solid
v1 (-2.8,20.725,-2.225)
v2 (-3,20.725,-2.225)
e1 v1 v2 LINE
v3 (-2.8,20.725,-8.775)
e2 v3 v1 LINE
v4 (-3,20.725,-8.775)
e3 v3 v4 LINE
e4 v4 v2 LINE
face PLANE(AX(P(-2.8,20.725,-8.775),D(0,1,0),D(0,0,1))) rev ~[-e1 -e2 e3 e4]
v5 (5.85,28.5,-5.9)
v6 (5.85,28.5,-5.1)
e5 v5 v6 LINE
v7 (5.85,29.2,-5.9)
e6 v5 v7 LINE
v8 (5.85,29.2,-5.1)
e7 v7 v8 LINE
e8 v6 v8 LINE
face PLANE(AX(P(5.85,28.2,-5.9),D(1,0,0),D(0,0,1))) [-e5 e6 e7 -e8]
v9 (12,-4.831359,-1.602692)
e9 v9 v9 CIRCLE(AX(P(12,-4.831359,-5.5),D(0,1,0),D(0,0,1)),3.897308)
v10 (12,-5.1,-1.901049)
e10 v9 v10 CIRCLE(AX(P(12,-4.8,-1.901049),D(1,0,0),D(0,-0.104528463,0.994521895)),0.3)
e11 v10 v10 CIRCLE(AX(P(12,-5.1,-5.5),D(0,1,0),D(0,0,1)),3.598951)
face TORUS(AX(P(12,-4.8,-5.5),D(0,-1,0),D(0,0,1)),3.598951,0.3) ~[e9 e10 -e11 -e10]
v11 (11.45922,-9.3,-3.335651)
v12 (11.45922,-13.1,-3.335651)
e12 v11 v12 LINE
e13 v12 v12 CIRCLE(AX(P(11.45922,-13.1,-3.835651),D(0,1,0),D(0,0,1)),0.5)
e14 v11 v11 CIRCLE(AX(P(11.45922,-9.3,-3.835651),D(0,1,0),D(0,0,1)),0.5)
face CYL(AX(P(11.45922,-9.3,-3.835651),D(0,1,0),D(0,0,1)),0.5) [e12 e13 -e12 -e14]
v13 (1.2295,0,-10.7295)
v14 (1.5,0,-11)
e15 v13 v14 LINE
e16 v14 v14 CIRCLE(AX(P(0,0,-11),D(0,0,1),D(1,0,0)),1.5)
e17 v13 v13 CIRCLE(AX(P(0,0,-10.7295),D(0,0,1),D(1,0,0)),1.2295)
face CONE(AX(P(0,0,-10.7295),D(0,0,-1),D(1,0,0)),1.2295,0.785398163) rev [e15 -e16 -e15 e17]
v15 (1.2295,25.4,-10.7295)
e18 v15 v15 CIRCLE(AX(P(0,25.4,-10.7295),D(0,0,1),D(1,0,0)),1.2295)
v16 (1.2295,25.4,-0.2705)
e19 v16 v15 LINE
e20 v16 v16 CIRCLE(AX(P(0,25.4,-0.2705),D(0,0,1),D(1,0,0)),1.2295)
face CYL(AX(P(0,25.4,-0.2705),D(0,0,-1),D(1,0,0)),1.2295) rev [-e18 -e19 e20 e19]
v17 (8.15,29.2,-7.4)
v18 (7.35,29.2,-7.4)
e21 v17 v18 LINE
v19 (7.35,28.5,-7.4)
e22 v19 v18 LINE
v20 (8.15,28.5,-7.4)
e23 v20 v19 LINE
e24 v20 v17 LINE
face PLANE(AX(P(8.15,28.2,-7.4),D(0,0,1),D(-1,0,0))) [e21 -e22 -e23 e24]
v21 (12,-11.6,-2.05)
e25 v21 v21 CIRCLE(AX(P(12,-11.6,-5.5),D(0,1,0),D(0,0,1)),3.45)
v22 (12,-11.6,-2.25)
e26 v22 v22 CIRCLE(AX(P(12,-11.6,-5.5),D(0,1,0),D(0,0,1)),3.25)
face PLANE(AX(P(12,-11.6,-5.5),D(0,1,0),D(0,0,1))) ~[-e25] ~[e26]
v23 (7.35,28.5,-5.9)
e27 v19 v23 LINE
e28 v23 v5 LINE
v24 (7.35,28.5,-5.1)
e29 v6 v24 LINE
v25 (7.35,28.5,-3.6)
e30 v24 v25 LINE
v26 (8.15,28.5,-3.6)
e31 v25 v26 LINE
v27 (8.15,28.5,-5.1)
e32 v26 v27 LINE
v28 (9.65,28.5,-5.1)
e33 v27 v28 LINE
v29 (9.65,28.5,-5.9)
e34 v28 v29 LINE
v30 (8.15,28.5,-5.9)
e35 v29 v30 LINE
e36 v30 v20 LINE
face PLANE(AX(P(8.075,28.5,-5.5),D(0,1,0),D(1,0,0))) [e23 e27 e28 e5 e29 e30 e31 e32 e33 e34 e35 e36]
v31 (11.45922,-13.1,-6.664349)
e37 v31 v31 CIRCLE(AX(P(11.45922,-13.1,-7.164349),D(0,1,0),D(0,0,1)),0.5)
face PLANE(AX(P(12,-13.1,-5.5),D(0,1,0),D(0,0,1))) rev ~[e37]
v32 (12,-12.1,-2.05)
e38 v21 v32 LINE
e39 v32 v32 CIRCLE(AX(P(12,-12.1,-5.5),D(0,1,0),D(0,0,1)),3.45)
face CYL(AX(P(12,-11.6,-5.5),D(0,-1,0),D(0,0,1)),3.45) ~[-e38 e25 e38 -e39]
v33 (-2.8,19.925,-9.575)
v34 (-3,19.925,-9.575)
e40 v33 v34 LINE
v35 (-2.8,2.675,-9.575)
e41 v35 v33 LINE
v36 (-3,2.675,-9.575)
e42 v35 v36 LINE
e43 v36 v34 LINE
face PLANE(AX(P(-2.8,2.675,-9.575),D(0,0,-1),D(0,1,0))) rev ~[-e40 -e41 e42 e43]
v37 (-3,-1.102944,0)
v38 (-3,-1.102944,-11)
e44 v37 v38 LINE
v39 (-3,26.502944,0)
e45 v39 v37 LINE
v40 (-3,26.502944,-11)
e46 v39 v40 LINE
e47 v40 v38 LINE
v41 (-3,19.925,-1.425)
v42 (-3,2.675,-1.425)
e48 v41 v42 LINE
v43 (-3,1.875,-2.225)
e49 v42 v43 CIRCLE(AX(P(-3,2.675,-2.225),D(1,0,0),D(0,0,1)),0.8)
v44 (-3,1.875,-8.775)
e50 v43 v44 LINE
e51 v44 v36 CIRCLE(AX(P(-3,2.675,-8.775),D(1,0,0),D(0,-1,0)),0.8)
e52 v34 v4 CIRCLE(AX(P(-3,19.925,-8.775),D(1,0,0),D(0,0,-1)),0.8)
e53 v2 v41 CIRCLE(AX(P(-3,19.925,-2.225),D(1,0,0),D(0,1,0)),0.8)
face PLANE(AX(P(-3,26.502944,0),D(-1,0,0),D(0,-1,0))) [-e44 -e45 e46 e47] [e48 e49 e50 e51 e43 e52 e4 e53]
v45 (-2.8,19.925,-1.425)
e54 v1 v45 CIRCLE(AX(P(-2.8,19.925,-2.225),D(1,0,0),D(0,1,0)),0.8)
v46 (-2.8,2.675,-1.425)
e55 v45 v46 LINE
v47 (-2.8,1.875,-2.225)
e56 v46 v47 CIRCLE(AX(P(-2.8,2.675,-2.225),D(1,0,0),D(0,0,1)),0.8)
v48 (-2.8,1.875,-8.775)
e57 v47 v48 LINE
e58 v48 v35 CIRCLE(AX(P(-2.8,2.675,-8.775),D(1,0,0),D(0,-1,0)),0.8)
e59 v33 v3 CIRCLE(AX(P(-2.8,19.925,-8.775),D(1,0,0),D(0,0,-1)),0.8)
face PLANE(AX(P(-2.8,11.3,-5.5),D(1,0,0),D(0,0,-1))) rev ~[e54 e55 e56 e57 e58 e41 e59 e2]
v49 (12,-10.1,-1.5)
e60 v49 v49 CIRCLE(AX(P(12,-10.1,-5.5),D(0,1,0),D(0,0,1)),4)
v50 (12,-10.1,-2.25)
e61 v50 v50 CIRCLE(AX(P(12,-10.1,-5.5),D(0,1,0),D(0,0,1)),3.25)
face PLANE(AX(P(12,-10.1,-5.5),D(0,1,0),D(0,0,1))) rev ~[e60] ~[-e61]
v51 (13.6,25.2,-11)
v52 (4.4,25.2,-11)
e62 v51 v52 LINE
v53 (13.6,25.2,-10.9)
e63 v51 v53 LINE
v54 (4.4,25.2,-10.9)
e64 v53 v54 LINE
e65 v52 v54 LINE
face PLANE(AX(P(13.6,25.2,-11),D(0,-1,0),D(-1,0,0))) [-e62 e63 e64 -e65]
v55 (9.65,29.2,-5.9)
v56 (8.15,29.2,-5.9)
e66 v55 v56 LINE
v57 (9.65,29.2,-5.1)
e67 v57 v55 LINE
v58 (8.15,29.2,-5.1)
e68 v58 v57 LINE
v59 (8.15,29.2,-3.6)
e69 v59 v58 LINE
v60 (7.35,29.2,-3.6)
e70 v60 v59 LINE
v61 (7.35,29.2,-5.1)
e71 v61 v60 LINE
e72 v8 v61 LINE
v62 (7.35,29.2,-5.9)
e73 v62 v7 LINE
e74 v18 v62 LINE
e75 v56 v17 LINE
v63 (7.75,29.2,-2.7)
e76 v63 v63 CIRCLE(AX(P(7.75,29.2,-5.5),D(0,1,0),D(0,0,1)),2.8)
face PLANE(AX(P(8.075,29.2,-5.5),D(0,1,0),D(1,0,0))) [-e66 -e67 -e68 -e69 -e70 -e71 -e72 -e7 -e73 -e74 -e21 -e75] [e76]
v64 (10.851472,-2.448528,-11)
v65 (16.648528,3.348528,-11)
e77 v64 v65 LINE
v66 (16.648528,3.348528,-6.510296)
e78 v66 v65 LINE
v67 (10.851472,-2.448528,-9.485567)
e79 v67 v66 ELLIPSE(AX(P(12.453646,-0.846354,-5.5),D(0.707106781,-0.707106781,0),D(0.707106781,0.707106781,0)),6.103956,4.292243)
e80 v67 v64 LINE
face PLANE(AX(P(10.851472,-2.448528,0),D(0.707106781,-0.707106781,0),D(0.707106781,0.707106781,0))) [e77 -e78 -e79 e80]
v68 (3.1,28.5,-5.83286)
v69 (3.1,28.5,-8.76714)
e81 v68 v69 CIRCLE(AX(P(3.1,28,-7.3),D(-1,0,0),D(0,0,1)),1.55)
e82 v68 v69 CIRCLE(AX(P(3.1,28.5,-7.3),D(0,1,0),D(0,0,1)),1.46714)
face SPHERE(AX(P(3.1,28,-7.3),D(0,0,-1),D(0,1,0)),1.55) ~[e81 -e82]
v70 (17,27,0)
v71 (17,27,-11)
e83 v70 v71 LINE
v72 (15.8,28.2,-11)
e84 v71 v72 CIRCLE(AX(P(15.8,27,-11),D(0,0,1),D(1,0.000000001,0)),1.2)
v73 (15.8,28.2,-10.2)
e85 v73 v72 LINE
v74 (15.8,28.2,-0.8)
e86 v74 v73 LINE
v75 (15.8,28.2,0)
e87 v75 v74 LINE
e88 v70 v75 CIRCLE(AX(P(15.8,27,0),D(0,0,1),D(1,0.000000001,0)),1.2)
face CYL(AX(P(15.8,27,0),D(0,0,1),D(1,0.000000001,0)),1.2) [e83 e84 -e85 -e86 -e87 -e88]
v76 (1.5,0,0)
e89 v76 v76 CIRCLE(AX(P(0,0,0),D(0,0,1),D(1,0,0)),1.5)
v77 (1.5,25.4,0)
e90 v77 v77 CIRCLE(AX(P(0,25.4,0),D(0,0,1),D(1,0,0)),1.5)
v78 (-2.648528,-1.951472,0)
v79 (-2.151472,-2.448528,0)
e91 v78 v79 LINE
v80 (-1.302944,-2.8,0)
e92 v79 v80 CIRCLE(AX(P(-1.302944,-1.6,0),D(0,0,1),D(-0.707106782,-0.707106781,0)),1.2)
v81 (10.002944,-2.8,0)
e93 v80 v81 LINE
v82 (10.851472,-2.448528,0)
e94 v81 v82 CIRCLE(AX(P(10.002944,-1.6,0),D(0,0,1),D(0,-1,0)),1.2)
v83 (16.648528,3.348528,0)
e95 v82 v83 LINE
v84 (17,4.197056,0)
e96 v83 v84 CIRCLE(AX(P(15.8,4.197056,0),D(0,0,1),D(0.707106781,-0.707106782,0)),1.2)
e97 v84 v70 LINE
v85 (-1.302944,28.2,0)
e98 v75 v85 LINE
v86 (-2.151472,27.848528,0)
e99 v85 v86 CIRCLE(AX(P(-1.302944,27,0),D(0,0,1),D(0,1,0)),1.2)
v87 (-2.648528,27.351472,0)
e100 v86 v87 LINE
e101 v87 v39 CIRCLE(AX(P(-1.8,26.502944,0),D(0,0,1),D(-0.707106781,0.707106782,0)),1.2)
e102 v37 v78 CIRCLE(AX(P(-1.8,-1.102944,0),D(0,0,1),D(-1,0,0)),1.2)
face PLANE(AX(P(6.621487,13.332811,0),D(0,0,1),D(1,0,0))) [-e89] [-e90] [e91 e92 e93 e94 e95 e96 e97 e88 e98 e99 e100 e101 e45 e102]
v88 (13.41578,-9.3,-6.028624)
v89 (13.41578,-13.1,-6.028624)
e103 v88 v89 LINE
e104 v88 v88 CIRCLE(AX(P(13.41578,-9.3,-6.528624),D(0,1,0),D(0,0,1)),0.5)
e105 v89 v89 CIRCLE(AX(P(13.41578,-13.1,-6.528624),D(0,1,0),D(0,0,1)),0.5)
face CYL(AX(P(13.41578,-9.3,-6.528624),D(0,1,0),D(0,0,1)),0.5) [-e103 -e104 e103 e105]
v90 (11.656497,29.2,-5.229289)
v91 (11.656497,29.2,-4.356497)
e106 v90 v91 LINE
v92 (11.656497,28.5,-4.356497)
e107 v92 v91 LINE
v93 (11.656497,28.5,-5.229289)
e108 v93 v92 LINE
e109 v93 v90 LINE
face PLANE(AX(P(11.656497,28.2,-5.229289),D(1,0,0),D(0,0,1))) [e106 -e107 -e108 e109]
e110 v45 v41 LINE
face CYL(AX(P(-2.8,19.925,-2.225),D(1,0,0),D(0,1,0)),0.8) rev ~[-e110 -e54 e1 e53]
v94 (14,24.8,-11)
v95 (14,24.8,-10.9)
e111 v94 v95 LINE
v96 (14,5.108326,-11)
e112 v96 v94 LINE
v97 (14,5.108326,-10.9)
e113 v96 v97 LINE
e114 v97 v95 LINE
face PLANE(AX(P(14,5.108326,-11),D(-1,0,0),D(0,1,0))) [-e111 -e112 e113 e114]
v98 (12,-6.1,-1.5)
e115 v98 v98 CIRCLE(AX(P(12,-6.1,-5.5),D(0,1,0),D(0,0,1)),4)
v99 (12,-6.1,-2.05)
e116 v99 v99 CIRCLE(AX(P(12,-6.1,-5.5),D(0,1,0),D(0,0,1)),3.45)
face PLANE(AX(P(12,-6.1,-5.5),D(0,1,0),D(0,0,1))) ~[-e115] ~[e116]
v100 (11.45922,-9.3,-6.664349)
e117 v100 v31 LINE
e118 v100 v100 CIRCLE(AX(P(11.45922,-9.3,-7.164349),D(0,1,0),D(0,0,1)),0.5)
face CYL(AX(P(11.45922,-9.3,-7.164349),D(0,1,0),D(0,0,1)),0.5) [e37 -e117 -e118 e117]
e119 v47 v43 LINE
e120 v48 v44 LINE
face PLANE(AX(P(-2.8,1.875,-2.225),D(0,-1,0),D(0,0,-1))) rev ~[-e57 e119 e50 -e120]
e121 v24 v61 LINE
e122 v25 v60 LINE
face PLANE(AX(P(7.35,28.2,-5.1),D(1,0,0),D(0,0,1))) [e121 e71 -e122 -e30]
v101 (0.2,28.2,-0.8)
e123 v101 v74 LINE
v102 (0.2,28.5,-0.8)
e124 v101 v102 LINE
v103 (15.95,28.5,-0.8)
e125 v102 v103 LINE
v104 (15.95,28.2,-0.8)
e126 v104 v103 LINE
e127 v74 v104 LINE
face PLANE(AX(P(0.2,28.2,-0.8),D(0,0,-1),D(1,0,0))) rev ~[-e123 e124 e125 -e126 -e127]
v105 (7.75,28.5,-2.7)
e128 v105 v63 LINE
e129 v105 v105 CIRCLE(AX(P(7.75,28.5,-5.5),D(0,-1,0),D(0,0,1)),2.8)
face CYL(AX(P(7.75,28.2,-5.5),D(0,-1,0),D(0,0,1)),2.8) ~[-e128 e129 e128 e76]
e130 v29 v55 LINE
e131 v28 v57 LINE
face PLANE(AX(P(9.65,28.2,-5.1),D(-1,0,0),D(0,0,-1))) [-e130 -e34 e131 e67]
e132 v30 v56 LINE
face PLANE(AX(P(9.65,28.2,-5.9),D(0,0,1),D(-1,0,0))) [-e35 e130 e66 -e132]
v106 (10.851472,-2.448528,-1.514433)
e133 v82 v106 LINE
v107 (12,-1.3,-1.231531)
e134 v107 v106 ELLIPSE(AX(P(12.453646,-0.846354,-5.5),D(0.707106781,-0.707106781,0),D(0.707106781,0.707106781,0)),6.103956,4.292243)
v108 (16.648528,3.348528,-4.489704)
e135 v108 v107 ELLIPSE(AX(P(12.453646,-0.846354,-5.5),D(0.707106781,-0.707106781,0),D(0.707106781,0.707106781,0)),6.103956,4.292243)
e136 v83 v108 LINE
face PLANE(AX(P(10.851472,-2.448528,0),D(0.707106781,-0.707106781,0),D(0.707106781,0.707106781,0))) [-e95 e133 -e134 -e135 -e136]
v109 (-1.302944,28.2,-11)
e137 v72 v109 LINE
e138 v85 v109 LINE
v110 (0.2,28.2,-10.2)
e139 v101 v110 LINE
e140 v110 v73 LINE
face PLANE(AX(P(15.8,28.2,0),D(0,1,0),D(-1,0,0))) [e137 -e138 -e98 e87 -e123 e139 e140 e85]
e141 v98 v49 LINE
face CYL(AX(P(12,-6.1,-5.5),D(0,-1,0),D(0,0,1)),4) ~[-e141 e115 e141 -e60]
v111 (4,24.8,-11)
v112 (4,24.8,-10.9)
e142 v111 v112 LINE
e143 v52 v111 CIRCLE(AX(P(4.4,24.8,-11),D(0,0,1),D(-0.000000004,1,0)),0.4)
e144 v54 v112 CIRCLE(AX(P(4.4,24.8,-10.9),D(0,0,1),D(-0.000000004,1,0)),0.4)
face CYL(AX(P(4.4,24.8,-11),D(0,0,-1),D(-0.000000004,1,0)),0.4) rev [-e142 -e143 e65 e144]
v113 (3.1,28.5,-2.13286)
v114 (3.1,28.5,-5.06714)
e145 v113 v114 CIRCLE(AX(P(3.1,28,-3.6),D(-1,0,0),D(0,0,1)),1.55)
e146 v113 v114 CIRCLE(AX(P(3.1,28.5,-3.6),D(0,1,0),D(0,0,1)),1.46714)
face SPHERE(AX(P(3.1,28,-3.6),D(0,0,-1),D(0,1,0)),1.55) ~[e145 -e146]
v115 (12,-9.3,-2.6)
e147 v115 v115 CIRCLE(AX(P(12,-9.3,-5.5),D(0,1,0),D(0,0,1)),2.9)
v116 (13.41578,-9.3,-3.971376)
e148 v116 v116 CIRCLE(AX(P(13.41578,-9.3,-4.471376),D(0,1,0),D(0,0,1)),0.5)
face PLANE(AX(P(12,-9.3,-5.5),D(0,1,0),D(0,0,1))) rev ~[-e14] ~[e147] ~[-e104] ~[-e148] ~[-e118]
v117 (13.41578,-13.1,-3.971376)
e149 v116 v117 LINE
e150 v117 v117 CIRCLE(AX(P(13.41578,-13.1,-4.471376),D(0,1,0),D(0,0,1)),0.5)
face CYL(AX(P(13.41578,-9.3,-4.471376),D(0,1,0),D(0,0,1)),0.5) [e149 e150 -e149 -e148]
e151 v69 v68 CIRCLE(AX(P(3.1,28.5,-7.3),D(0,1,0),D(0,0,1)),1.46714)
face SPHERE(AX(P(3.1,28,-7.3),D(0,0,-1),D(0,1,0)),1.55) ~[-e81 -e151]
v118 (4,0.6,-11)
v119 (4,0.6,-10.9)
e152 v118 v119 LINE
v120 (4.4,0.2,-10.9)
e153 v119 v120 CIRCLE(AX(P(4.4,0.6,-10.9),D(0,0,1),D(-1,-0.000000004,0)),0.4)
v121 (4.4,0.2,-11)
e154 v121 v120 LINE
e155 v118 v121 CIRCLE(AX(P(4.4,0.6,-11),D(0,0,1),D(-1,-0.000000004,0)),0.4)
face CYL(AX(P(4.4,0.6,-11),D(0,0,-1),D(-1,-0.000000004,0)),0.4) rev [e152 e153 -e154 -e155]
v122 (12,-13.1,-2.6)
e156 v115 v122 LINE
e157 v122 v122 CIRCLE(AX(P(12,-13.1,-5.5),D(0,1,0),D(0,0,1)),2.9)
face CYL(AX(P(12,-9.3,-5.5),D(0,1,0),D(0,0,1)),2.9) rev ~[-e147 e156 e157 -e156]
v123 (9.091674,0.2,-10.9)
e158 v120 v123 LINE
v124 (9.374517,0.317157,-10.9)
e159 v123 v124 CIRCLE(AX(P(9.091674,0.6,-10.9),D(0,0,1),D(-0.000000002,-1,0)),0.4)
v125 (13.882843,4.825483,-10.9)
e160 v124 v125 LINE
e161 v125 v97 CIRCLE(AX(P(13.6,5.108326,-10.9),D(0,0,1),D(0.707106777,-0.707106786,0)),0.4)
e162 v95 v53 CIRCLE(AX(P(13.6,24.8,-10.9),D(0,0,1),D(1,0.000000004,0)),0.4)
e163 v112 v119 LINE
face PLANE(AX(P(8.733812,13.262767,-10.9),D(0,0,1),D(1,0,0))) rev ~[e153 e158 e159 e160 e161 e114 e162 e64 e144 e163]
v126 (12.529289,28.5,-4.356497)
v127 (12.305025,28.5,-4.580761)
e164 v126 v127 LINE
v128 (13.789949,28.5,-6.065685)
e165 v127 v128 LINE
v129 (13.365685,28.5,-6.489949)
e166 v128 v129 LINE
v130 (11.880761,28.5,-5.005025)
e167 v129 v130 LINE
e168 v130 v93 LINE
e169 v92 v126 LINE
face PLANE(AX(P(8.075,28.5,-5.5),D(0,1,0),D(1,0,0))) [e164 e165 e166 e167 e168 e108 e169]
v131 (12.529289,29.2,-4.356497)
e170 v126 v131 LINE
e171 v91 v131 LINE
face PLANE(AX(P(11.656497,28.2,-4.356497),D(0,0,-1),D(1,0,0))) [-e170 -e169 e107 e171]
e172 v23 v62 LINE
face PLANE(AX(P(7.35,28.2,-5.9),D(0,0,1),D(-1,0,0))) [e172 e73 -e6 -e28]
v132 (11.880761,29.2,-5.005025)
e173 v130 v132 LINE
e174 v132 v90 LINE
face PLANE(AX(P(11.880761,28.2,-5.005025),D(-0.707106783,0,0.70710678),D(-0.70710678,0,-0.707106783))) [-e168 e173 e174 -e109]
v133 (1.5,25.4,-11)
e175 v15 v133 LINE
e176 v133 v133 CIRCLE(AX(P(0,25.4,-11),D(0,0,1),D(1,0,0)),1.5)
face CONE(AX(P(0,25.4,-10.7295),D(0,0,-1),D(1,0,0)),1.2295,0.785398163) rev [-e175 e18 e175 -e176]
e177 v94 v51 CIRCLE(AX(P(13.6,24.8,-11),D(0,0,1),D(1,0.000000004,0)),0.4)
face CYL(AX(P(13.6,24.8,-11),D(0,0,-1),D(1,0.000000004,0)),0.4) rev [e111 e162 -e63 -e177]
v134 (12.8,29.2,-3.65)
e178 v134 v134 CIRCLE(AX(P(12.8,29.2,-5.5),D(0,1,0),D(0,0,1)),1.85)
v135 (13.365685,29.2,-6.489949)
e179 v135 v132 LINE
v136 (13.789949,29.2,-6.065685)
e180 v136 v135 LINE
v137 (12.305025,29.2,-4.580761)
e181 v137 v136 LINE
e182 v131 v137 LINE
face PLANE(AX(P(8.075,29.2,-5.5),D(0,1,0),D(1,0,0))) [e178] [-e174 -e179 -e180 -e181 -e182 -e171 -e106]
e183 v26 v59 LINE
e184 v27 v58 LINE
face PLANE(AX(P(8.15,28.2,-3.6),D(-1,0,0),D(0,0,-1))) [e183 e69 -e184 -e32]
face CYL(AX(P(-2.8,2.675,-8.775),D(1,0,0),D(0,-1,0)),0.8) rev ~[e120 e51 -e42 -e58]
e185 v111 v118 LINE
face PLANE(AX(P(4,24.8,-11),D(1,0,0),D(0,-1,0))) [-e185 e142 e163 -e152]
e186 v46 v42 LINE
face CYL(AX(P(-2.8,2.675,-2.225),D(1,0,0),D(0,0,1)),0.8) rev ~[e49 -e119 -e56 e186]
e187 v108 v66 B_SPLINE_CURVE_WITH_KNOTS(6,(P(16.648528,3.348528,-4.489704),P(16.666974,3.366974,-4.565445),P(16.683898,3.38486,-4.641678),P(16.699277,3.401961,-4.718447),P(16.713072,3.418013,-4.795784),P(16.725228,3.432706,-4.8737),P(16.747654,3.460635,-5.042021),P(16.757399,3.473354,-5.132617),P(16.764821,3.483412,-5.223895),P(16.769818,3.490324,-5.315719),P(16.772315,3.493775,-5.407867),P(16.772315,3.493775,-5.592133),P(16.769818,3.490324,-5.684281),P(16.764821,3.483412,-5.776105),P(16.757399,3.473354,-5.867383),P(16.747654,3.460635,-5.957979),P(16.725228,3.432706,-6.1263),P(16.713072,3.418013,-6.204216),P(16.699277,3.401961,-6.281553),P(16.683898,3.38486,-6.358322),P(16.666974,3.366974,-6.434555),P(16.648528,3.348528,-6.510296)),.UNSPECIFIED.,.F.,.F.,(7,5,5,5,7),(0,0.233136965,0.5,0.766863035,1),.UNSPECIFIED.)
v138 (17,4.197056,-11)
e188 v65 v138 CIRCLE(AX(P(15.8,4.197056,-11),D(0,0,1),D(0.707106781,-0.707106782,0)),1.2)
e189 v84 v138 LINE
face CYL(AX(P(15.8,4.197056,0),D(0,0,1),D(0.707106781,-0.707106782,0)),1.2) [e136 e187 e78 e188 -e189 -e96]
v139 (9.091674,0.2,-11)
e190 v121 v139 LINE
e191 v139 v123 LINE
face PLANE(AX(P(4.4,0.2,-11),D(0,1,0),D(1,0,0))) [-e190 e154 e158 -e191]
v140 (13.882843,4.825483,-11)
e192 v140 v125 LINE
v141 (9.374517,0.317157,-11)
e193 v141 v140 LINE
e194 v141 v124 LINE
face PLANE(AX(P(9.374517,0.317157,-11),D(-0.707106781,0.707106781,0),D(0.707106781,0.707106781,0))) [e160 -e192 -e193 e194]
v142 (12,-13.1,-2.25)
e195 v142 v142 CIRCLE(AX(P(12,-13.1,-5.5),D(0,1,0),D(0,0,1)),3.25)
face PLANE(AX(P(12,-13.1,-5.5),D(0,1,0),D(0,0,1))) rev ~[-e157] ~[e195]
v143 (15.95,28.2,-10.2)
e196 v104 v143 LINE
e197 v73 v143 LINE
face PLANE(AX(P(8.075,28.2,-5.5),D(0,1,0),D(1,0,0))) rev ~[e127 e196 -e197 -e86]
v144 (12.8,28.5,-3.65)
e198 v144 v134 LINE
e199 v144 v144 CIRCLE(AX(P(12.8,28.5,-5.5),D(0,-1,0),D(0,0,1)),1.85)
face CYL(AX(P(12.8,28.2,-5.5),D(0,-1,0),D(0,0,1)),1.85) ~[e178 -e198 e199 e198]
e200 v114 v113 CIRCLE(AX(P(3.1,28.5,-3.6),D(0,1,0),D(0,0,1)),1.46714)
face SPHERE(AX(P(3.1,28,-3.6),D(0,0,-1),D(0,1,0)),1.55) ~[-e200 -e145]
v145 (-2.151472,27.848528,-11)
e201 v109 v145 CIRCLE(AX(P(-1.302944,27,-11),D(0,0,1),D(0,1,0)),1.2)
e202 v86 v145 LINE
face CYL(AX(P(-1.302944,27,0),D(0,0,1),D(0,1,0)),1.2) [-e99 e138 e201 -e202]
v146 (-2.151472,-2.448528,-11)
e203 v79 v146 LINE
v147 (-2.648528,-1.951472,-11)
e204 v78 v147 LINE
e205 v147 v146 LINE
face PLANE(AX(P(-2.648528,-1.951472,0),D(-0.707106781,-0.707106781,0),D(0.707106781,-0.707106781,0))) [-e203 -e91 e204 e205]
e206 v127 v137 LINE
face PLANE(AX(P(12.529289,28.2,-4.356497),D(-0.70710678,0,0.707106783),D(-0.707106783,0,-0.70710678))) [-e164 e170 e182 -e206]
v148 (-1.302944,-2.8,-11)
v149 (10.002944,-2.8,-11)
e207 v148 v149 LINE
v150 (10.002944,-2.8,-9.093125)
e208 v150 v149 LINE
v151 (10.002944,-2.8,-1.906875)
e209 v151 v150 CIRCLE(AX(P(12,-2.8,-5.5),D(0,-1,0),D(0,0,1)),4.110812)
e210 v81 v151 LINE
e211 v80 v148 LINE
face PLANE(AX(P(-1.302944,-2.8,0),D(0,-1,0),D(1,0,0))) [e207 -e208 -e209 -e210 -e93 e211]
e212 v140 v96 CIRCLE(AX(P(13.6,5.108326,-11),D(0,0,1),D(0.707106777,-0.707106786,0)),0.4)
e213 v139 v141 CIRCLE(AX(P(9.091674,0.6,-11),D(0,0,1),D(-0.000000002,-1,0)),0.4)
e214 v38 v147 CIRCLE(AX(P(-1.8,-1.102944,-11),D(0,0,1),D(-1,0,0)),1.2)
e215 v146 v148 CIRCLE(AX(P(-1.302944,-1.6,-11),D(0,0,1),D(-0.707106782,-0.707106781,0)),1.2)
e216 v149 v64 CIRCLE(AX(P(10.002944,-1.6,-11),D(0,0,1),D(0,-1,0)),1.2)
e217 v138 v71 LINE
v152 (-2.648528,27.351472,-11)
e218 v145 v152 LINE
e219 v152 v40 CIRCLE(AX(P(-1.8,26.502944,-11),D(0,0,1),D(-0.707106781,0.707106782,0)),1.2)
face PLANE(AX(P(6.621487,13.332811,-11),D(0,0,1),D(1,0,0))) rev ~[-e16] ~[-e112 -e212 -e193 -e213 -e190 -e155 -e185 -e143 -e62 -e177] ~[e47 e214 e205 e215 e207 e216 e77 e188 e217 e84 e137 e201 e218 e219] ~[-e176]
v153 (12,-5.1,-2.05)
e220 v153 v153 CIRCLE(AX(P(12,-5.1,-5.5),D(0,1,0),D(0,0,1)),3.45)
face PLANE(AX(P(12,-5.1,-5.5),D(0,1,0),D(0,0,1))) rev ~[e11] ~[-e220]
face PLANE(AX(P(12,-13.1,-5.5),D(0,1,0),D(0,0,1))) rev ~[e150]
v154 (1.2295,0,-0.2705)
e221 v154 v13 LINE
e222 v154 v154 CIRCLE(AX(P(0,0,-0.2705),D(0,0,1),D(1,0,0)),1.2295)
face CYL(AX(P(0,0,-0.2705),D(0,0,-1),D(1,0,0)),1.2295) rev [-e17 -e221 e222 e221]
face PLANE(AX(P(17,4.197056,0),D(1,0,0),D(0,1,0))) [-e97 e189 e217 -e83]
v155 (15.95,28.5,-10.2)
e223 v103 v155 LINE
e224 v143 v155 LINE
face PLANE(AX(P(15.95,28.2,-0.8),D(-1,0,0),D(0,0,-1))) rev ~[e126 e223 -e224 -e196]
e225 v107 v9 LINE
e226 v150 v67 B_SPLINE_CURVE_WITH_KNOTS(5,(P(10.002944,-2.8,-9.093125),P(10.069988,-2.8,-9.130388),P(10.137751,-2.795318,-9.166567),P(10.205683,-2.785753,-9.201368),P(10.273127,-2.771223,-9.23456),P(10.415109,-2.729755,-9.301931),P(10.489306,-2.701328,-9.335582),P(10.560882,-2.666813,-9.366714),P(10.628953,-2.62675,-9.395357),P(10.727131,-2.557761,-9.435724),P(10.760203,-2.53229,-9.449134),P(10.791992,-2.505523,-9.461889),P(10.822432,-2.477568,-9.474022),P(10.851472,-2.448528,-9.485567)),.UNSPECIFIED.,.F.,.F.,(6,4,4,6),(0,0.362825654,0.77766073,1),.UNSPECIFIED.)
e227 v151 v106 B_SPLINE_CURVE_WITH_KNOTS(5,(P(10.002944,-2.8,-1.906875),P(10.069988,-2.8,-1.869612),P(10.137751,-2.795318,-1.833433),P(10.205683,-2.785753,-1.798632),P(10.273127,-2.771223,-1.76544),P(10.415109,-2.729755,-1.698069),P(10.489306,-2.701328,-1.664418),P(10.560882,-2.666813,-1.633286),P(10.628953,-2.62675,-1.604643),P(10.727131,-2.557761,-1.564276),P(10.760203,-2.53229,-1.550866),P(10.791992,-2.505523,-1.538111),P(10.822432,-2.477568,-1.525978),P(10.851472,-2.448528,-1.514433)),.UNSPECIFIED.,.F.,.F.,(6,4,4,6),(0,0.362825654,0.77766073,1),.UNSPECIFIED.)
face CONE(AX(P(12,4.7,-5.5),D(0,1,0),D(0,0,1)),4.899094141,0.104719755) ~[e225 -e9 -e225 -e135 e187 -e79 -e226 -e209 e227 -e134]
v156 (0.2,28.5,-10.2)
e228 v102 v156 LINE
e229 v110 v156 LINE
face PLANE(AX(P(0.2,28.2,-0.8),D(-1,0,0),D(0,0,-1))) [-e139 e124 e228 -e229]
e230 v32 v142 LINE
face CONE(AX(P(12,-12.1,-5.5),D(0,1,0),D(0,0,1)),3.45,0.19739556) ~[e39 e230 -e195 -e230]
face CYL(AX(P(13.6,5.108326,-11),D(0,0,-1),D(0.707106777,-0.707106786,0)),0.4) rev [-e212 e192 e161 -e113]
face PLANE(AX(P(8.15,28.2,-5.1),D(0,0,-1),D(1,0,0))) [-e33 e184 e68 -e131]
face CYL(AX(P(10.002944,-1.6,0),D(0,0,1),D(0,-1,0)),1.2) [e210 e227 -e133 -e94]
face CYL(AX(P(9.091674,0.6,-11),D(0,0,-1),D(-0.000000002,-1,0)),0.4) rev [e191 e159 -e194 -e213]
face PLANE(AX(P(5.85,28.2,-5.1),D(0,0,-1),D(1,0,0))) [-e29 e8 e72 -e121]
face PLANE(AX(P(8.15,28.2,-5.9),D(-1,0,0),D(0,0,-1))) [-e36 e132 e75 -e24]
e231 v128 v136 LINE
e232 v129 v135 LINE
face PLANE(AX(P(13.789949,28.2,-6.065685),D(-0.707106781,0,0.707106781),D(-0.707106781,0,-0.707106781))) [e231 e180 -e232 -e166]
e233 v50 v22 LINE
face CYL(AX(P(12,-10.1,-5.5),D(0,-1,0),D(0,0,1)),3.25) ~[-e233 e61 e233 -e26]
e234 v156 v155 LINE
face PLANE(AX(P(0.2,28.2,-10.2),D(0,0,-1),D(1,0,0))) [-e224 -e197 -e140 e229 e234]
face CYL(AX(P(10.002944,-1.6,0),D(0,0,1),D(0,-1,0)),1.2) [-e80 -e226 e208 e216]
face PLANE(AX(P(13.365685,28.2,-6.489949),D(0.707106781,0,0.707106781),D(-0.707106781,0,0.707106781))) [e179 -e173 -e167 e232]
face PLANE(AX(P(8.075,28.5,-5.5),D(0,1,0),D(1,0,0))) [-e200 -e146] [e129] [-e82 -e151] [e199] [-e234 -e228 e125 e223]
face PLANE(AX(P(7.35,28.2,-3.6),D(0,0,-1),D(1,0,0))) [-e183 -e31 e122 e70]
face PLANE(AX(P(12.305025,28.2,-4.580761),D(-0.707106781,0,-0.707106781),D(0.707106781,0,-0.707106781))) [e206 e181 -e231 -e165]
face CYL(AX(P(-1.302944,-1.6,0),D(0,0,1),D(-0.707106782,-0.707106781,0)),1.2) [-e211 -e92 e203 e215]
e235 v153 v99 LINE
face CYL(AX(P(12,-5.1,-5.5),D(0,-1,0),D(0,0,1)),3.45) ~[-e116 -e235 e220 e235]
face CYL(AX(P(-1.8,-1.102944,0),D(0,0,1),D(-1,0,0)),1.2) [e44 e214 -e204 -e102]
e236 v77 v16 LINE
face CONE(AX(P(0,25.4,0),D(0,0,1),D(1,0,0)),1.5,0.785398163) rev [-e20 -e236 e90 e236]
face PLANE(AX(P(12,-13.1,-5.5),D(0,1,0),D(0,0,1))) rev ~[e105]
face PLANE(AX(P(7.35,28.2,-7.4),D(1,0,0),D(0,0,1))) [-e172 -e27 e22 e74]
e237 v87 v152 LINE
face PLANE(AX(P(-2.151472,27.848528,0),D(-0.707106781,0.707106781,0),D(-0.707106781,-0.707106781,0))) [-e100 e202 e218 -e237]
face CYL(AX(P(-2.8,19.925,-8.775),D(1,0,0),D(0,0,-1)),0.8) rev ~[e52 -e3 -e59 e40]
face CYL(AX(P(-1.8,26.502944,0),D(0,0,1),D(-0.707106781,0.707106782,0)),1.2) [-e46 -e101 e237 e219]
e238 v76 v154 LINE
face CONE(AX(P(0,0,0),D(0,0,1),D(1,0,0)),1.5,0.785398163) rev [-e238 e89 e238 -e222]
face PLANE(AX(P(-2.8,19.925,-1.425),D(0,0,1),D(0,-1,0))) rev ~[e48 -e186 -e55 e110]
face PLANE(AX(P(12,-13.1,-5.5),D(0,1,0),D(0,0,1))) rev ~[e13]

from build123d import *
from build123d.topology import SkipClean

# Parameters (mm, degrees)
BOSS_EXTRUDE1_DEPTH = 11
SKETCH3_R           = 2.9
SKETCH3_R_2         = 0.5
CUT_EXTRUDE1_DEPTH  = 4
SKETCH4_W           = 15.75
SKETCH4_H           = 9.4
BOSS_EXTRUDE2_DEPTH = 1
SKETCH5_W           = 15.75
SKETCH5_H           = 9.4
SKETCH5_R           = 1.85
SKETCH5_R_2         = 2.8
CUT_EXTRUDE2_DEPTH  = 1
SKETCH6_W           = 15.75
SKETCH6_H           = 9.4
BOSS_EXTRUDE3_DEPTH = 0.3
CUT_EXTRUDE3_DEPTH  = 0.2
CUT_EXTRUDE4_DEPTH  = 0.1


with BuildPart() as part:
    # Sketch1 → Boss-Extrude1 (new body)
    with BuildSketch(Plane.XY):
        with BuildLine():
            Line((-3, 26.502943725), (-3, -1.102943725))
            ThreePointArc((-3, -1.102943725), (-2.908655439, -1.562163844), (-2.648528137, -1.951471863))
            Line((-2.648528137, -1.951471863), (-2.151471863, -2.448528137))
            ThreePointArc((-2.151471863, -2.448528137), (-1.762163844, -2.708655439), (-1.302943725, -2.8))
            Line((-1.302943725, -2.8), (10.002943725, -2.8))
            ThreePointArc((10.002943725, -2.8), (10.462163844, -2.708655439), (10.851471863, -2.448528137))
            Line((10.851471863, -2.448528137), (16.648528137, 3.348528137))
            ThreePointArc((16.648528137, 3.348528137), (16.908655439, 3.737836156), (17, 4.197056275))
            Line((17, 4.197056275), (17, 27))
            ThreePointArc((17, 27), (16.648528137, 27.848528137), (15.8, 28.2))
            Line((15.8, 28.2), (-1.302943725, 28.2))
            ThreePointArc((-1.302943725, 28.2), (-1.762163844, 28.108655439), (-2.151471863, 27.848528137))
            Line((-2.151471863, 27.848528137), (-2.648528137, 27.351471863))
            ThreePointArc((-2.648528137, 27.351471863), (-2.908655439, 26.962163844), (-3, 26.502943725))
        make_face()
    extrude(amount=-BOSS_EXTRUDE1_DEPTH)

    # Sketch2 → Revolve1 (revolve)
    with BuildSketch(Plane.XY.offset(-5.5), mode=Mode.PRIVATE) as revolve1_sk:
        with BuildLine():
            Line((12, 4.7), (16.899094141, 4.7))
            Line((16.899094141, 4.7), (15.897307991, -4.831358539))
            ThreePointArc((15.897307991, -4.831358539), (15.799690604, -5.022943448), (15.598951422, -5.1))
            Line((15.598951422, -5.1), (15.45, -5.1))
            Line((15.45, -5.1), (15.45, -6.1))
            Line((15.45, -6.1), (16, -6.1))
            Line((16, -6.1), (16, -10.1))
            Line((16, -10.1), (15.25, -10.1))
            Line((15.25, -10.1), (15.25, -11.6))
            Line((15.25, -11.6), (15.45, -11.6))
            Line((15.45, -11.6), (15.45, -12.1))
            Line((15.45, -12.1), (15.25, -13.1))
            Line((15.25, -13.1), (12, -13.1))
            Line((12, -13.1), (12, 4.7))
        make_face()
    revolve(revolve1_sk.sketch.rotate(Axis((12, -13.1, -5.5), (0, 1, 0)), 270), axis=Axis((12, -13.1, -5.5), (0, 1, 0)))

    # Sketch3 → Cut-Extrude1 (cut)
    with BuildSketch(Plane(origin=(0, -9.3, 0), x_dir=(1, 0, 0), z_dir=(0, 1, 0))):
        with Locations(Location((12, 5.5, 0), (0, 0, 270))):
            Circle(SKETCH3_R)
        with Locations(Location((13.41577974, 4.471375808, 0), (0, 0, 270))):
            Circle(SKETCH3_R_2, mode=Mode.SUBTRACT)
        with Locations(Location((13.41577974, 6.528624192, 0), (0, 0, 270))):
            Circle(SKETCH3_R_2, mode=Mode.SUBTRACT)
        with Locations(Location((11.45922026, 3.835651096, 0), (0, 0, 270))):
            Circle(SKETCH3_R_2, mode=Mode.SUBTRACT)
        with Locations(Location((11.45922026, 7.164348904, 0), (0, 0, 270))):
            Circle(SKETCH3_R_2, mode=Mode.SUBTRACT)
    extrude(amount=-CUT_EXTRUDE1_DEPTH, mode=Mode.SUBTRACT)

    # Sketch4 → Boss-Extrude2 (add)
    with BuildSketch(Plane(origin=(0, 28.2, 0), x_dir=(1, 0, 0), z_dir=(0, 1, 0))):
        with Locations((8.075, 5.5)):
            Rectangle(SKETCH4_W, SKETCH4_H)
        Polygon((11.656497116, 4.356497116), (12.529289322, 4.356497116), (12.305025253, 4.580761184), (13.789949494, 6.065685425), (13.365685425, 6.489949494), (11.880761184, 5.005025253), (11.656497116, 5.229289322), align=None, mode=Mode.SUBTRACT)
        Polygon((5.85, 5.9), (5.85, 5.1), (7.35, 5.1), (7.35, 3.6), (8.15, 3.6), (8.15, 5.1), (9.65, 5.1), (9.65, 5.9), (8.15, 5.9), (8.15, 7.4), (7.35, 7.4), (7.35, 5.9), align=None, mode=Mode.SUBTRACT)
    extrude(amount=BOSS_EXTRUDE2_DEPTH)

    # Sketch5 → Cut-Extrude2 (cut)
    with BuildSketch(Plane(origin=(0, 28.2, 0), x_dir=(1, 0, 0), z_dir=(0, 1, 0))):
        with Locations((8.075, 5.5)):
            Rectangle(SKETCH5_W, SKETCH5_H)
        with Locations(Location((12.8, 5.5, 0), (0, 0, 270))):
            Circle(SKETCH5_R, mode=Mode.SUBTRACT)
        with Locations(Location((7.75, 5.5, 0), (0, 0, 270))):
            Circle(SKETCH5_R_2, mode=Mode.SUBTRACT)
    extrude(amount=CUT_EXTRUDE2_DEPTH, mode=Mode.SUBTRACT)

    # Sketch6 → Boss-Extrude3 (add)
    with BuildSketch(Plane(origin=(0, 28.2, 0), x_dir=(1, 0, 0), z_dir=(0, 1, 0))):
        with Locations((8.075, 5.5)):
            Rectangle(SKETCH6_W, SKETCH6_H)
    extrude(amount=BOSS_EXTRUDE3_DEPTH)

    # Sketch7 → Revolve2 (revolve)
    with SkipClean():  # the faces are left unmerged after this step: merging them gives an invalid solid
        with BuildSketch(Plane(origin=(3.1, 0, 0), x_dir=(0, 0, -1), z_dir=(1, 0, 0))):
            with BuildLine():
                Line((8.85, 28), (5.75, 28))
                ThreePointArc((5.75, 28), (7.3, 29.55), (8.85, 28))
            make_face()
        revolve(axis=Axis((3.1, 28, -8.85), (0, 0, 1)))

    # Sketch8 → Cut-Extrude3 (cut)
    with SkipClean():  # the faces are left unmerged after this step: merging them gives an invalid solid
        with BuildSketch(Plane(origin=(-2.8, 0, 0), x_dir=(0, 0, -1), z_dir=(1, 0, 0))):
            with BuildLine():
                Line((1.425, 19.925), (1.425, 2.675))
                ThreePointArc((1.425, 2.675), (1.659314575, 2.109314575), (2.225, 1.875))
                Line((2.225, 1.875), (8.775, 1.875))
                ThreePointArc((8.775, 1.875), (9.340685425, 2.109314575), (9.575, 2.675))
                Line((9.575, 2.675), (9.575, 19.925))
                ThreePointArc((9.575, 19.925), (9.340685425, 20.490685425), (8.775, 20.725))
                Line((8.775, 20.725), (2.225, 20.725))
                ThreePointArc((2.225, 20.725), (1.659314575, 20.490685425), (1.425, 19.925))
            make_face()
        extrude(amount=-CUT_EXTRUDE3_DEPTH, mode=Mode.SUBTRACT)

    # Sketch9 → Cut-Extrude4 (cut)
    with SkipClean():  # the faces are left unmerged after this step: merging them gives an invalid solid
        with BuildSketch(Plane.XY.offset(-11)):
            with BuildLine():
                Line((4.4, 0.2), (9.091673888, 0.2))
                ThreePointArc((9.091673888, 0.2), (9.244747261, 0.230448187), (9.3745166, 0.317157288))
                Line((9.3745166, 0.317157288), (13.882842712, 4.8254834))
                ThreePointArc((13.882842712, 4.8254834), (13.969551813, 4.955252739), (14, 5.108326112))
                Line((14, 5.108326112), (14, 24.8))
                ThreePointArc((14, 24.8), (13.882842712, 25.082842712), (13.6, 25.2))
                Line((13.6, 25.2), (4.4, 25.2))
                ThreePointArc((4.4, 25.2), (4.117157288, 25.082842712), (4, 24.8))
                Line((4, 24.8), (4, 0.6))
                ThreePointArc((4, 0.6), (4.117157288, 0.317157288), (4.4, 0.2))
            make_face()
        extrude(amount=CUT_EXTRUDE4_DEPTH, mode=Mode.SUBTRACT)

    # Sketch10 → Cut-Revolve1 (revolve, cut)
    with SkipClean():  # the faces are left unmerged after this step: merging them gives an invalid solid
        with BuildSketch(Plane(origin=(0, 0, 0), x_dir=(0, 0, -1), z_dir=(1, 0, 0)), mode=Mode.PRIVATE) as cut_revolve1_sk:
            Polygon((0, 0), (0, 1.5), (0.2705, 1.2295), (10.7295, 1.2295), (11, 1.5), (11, 0), align=None)
        revolve(cut_revolve1_sk.sketch.rotate(Axis((0, 0, -11), (0, 0, 1)), 270), axis=Axis((0, 0, -11), (0, 0, 1)), mode=Mode.SUBTRACT)

    # Sketch11 → Cut-Revolve2 (revolve, cut)
    with SkipClean():  # the faces are left unmerged after this step: merging them gives an invalid solid
        with BuildSketch(Plane(origin=(0, 0, 0), x_dir=(0, 0, -1), z_dir=(1, 0, 0)), mode=Mode.PRIVATE) as cut_revolve2_sk:
            Polygon((0, 25.4), (0, 26.9), (0.2705, 26.6295), (10.7295, 26.6295), (11, 26.9), (11, 25.4), align=None)
        revolve(cut_revolve2_sk.sketch.rotate(Axis((0, 25.4, -11), (0, 0, 1)), 270), axis=Axis((0, 25.4, -11), (0, 0, 1)), mode=Mode.SUBTRACT)

    # Sketch12 → Revolve3 (revolve)
    with SkipClean():  # the faces are left unmerged after this step: merging them gives an invalid solid
        with BuildSketch(Plane(origin=(3.1, 0, 0), x_dir=(0, 0, -1), z_dir=(1, 0, 0))):
            with BuildLine():
                Line((5.15, 28), (2.05, 28))
                ThreePointArc((2.05, 28), (3.6, 29.55), (5.15, 28))
            make_face()
        revolve(axis=Axis((3.1, 28, -5.15), (0, 0, 1)))


solid = part.part
